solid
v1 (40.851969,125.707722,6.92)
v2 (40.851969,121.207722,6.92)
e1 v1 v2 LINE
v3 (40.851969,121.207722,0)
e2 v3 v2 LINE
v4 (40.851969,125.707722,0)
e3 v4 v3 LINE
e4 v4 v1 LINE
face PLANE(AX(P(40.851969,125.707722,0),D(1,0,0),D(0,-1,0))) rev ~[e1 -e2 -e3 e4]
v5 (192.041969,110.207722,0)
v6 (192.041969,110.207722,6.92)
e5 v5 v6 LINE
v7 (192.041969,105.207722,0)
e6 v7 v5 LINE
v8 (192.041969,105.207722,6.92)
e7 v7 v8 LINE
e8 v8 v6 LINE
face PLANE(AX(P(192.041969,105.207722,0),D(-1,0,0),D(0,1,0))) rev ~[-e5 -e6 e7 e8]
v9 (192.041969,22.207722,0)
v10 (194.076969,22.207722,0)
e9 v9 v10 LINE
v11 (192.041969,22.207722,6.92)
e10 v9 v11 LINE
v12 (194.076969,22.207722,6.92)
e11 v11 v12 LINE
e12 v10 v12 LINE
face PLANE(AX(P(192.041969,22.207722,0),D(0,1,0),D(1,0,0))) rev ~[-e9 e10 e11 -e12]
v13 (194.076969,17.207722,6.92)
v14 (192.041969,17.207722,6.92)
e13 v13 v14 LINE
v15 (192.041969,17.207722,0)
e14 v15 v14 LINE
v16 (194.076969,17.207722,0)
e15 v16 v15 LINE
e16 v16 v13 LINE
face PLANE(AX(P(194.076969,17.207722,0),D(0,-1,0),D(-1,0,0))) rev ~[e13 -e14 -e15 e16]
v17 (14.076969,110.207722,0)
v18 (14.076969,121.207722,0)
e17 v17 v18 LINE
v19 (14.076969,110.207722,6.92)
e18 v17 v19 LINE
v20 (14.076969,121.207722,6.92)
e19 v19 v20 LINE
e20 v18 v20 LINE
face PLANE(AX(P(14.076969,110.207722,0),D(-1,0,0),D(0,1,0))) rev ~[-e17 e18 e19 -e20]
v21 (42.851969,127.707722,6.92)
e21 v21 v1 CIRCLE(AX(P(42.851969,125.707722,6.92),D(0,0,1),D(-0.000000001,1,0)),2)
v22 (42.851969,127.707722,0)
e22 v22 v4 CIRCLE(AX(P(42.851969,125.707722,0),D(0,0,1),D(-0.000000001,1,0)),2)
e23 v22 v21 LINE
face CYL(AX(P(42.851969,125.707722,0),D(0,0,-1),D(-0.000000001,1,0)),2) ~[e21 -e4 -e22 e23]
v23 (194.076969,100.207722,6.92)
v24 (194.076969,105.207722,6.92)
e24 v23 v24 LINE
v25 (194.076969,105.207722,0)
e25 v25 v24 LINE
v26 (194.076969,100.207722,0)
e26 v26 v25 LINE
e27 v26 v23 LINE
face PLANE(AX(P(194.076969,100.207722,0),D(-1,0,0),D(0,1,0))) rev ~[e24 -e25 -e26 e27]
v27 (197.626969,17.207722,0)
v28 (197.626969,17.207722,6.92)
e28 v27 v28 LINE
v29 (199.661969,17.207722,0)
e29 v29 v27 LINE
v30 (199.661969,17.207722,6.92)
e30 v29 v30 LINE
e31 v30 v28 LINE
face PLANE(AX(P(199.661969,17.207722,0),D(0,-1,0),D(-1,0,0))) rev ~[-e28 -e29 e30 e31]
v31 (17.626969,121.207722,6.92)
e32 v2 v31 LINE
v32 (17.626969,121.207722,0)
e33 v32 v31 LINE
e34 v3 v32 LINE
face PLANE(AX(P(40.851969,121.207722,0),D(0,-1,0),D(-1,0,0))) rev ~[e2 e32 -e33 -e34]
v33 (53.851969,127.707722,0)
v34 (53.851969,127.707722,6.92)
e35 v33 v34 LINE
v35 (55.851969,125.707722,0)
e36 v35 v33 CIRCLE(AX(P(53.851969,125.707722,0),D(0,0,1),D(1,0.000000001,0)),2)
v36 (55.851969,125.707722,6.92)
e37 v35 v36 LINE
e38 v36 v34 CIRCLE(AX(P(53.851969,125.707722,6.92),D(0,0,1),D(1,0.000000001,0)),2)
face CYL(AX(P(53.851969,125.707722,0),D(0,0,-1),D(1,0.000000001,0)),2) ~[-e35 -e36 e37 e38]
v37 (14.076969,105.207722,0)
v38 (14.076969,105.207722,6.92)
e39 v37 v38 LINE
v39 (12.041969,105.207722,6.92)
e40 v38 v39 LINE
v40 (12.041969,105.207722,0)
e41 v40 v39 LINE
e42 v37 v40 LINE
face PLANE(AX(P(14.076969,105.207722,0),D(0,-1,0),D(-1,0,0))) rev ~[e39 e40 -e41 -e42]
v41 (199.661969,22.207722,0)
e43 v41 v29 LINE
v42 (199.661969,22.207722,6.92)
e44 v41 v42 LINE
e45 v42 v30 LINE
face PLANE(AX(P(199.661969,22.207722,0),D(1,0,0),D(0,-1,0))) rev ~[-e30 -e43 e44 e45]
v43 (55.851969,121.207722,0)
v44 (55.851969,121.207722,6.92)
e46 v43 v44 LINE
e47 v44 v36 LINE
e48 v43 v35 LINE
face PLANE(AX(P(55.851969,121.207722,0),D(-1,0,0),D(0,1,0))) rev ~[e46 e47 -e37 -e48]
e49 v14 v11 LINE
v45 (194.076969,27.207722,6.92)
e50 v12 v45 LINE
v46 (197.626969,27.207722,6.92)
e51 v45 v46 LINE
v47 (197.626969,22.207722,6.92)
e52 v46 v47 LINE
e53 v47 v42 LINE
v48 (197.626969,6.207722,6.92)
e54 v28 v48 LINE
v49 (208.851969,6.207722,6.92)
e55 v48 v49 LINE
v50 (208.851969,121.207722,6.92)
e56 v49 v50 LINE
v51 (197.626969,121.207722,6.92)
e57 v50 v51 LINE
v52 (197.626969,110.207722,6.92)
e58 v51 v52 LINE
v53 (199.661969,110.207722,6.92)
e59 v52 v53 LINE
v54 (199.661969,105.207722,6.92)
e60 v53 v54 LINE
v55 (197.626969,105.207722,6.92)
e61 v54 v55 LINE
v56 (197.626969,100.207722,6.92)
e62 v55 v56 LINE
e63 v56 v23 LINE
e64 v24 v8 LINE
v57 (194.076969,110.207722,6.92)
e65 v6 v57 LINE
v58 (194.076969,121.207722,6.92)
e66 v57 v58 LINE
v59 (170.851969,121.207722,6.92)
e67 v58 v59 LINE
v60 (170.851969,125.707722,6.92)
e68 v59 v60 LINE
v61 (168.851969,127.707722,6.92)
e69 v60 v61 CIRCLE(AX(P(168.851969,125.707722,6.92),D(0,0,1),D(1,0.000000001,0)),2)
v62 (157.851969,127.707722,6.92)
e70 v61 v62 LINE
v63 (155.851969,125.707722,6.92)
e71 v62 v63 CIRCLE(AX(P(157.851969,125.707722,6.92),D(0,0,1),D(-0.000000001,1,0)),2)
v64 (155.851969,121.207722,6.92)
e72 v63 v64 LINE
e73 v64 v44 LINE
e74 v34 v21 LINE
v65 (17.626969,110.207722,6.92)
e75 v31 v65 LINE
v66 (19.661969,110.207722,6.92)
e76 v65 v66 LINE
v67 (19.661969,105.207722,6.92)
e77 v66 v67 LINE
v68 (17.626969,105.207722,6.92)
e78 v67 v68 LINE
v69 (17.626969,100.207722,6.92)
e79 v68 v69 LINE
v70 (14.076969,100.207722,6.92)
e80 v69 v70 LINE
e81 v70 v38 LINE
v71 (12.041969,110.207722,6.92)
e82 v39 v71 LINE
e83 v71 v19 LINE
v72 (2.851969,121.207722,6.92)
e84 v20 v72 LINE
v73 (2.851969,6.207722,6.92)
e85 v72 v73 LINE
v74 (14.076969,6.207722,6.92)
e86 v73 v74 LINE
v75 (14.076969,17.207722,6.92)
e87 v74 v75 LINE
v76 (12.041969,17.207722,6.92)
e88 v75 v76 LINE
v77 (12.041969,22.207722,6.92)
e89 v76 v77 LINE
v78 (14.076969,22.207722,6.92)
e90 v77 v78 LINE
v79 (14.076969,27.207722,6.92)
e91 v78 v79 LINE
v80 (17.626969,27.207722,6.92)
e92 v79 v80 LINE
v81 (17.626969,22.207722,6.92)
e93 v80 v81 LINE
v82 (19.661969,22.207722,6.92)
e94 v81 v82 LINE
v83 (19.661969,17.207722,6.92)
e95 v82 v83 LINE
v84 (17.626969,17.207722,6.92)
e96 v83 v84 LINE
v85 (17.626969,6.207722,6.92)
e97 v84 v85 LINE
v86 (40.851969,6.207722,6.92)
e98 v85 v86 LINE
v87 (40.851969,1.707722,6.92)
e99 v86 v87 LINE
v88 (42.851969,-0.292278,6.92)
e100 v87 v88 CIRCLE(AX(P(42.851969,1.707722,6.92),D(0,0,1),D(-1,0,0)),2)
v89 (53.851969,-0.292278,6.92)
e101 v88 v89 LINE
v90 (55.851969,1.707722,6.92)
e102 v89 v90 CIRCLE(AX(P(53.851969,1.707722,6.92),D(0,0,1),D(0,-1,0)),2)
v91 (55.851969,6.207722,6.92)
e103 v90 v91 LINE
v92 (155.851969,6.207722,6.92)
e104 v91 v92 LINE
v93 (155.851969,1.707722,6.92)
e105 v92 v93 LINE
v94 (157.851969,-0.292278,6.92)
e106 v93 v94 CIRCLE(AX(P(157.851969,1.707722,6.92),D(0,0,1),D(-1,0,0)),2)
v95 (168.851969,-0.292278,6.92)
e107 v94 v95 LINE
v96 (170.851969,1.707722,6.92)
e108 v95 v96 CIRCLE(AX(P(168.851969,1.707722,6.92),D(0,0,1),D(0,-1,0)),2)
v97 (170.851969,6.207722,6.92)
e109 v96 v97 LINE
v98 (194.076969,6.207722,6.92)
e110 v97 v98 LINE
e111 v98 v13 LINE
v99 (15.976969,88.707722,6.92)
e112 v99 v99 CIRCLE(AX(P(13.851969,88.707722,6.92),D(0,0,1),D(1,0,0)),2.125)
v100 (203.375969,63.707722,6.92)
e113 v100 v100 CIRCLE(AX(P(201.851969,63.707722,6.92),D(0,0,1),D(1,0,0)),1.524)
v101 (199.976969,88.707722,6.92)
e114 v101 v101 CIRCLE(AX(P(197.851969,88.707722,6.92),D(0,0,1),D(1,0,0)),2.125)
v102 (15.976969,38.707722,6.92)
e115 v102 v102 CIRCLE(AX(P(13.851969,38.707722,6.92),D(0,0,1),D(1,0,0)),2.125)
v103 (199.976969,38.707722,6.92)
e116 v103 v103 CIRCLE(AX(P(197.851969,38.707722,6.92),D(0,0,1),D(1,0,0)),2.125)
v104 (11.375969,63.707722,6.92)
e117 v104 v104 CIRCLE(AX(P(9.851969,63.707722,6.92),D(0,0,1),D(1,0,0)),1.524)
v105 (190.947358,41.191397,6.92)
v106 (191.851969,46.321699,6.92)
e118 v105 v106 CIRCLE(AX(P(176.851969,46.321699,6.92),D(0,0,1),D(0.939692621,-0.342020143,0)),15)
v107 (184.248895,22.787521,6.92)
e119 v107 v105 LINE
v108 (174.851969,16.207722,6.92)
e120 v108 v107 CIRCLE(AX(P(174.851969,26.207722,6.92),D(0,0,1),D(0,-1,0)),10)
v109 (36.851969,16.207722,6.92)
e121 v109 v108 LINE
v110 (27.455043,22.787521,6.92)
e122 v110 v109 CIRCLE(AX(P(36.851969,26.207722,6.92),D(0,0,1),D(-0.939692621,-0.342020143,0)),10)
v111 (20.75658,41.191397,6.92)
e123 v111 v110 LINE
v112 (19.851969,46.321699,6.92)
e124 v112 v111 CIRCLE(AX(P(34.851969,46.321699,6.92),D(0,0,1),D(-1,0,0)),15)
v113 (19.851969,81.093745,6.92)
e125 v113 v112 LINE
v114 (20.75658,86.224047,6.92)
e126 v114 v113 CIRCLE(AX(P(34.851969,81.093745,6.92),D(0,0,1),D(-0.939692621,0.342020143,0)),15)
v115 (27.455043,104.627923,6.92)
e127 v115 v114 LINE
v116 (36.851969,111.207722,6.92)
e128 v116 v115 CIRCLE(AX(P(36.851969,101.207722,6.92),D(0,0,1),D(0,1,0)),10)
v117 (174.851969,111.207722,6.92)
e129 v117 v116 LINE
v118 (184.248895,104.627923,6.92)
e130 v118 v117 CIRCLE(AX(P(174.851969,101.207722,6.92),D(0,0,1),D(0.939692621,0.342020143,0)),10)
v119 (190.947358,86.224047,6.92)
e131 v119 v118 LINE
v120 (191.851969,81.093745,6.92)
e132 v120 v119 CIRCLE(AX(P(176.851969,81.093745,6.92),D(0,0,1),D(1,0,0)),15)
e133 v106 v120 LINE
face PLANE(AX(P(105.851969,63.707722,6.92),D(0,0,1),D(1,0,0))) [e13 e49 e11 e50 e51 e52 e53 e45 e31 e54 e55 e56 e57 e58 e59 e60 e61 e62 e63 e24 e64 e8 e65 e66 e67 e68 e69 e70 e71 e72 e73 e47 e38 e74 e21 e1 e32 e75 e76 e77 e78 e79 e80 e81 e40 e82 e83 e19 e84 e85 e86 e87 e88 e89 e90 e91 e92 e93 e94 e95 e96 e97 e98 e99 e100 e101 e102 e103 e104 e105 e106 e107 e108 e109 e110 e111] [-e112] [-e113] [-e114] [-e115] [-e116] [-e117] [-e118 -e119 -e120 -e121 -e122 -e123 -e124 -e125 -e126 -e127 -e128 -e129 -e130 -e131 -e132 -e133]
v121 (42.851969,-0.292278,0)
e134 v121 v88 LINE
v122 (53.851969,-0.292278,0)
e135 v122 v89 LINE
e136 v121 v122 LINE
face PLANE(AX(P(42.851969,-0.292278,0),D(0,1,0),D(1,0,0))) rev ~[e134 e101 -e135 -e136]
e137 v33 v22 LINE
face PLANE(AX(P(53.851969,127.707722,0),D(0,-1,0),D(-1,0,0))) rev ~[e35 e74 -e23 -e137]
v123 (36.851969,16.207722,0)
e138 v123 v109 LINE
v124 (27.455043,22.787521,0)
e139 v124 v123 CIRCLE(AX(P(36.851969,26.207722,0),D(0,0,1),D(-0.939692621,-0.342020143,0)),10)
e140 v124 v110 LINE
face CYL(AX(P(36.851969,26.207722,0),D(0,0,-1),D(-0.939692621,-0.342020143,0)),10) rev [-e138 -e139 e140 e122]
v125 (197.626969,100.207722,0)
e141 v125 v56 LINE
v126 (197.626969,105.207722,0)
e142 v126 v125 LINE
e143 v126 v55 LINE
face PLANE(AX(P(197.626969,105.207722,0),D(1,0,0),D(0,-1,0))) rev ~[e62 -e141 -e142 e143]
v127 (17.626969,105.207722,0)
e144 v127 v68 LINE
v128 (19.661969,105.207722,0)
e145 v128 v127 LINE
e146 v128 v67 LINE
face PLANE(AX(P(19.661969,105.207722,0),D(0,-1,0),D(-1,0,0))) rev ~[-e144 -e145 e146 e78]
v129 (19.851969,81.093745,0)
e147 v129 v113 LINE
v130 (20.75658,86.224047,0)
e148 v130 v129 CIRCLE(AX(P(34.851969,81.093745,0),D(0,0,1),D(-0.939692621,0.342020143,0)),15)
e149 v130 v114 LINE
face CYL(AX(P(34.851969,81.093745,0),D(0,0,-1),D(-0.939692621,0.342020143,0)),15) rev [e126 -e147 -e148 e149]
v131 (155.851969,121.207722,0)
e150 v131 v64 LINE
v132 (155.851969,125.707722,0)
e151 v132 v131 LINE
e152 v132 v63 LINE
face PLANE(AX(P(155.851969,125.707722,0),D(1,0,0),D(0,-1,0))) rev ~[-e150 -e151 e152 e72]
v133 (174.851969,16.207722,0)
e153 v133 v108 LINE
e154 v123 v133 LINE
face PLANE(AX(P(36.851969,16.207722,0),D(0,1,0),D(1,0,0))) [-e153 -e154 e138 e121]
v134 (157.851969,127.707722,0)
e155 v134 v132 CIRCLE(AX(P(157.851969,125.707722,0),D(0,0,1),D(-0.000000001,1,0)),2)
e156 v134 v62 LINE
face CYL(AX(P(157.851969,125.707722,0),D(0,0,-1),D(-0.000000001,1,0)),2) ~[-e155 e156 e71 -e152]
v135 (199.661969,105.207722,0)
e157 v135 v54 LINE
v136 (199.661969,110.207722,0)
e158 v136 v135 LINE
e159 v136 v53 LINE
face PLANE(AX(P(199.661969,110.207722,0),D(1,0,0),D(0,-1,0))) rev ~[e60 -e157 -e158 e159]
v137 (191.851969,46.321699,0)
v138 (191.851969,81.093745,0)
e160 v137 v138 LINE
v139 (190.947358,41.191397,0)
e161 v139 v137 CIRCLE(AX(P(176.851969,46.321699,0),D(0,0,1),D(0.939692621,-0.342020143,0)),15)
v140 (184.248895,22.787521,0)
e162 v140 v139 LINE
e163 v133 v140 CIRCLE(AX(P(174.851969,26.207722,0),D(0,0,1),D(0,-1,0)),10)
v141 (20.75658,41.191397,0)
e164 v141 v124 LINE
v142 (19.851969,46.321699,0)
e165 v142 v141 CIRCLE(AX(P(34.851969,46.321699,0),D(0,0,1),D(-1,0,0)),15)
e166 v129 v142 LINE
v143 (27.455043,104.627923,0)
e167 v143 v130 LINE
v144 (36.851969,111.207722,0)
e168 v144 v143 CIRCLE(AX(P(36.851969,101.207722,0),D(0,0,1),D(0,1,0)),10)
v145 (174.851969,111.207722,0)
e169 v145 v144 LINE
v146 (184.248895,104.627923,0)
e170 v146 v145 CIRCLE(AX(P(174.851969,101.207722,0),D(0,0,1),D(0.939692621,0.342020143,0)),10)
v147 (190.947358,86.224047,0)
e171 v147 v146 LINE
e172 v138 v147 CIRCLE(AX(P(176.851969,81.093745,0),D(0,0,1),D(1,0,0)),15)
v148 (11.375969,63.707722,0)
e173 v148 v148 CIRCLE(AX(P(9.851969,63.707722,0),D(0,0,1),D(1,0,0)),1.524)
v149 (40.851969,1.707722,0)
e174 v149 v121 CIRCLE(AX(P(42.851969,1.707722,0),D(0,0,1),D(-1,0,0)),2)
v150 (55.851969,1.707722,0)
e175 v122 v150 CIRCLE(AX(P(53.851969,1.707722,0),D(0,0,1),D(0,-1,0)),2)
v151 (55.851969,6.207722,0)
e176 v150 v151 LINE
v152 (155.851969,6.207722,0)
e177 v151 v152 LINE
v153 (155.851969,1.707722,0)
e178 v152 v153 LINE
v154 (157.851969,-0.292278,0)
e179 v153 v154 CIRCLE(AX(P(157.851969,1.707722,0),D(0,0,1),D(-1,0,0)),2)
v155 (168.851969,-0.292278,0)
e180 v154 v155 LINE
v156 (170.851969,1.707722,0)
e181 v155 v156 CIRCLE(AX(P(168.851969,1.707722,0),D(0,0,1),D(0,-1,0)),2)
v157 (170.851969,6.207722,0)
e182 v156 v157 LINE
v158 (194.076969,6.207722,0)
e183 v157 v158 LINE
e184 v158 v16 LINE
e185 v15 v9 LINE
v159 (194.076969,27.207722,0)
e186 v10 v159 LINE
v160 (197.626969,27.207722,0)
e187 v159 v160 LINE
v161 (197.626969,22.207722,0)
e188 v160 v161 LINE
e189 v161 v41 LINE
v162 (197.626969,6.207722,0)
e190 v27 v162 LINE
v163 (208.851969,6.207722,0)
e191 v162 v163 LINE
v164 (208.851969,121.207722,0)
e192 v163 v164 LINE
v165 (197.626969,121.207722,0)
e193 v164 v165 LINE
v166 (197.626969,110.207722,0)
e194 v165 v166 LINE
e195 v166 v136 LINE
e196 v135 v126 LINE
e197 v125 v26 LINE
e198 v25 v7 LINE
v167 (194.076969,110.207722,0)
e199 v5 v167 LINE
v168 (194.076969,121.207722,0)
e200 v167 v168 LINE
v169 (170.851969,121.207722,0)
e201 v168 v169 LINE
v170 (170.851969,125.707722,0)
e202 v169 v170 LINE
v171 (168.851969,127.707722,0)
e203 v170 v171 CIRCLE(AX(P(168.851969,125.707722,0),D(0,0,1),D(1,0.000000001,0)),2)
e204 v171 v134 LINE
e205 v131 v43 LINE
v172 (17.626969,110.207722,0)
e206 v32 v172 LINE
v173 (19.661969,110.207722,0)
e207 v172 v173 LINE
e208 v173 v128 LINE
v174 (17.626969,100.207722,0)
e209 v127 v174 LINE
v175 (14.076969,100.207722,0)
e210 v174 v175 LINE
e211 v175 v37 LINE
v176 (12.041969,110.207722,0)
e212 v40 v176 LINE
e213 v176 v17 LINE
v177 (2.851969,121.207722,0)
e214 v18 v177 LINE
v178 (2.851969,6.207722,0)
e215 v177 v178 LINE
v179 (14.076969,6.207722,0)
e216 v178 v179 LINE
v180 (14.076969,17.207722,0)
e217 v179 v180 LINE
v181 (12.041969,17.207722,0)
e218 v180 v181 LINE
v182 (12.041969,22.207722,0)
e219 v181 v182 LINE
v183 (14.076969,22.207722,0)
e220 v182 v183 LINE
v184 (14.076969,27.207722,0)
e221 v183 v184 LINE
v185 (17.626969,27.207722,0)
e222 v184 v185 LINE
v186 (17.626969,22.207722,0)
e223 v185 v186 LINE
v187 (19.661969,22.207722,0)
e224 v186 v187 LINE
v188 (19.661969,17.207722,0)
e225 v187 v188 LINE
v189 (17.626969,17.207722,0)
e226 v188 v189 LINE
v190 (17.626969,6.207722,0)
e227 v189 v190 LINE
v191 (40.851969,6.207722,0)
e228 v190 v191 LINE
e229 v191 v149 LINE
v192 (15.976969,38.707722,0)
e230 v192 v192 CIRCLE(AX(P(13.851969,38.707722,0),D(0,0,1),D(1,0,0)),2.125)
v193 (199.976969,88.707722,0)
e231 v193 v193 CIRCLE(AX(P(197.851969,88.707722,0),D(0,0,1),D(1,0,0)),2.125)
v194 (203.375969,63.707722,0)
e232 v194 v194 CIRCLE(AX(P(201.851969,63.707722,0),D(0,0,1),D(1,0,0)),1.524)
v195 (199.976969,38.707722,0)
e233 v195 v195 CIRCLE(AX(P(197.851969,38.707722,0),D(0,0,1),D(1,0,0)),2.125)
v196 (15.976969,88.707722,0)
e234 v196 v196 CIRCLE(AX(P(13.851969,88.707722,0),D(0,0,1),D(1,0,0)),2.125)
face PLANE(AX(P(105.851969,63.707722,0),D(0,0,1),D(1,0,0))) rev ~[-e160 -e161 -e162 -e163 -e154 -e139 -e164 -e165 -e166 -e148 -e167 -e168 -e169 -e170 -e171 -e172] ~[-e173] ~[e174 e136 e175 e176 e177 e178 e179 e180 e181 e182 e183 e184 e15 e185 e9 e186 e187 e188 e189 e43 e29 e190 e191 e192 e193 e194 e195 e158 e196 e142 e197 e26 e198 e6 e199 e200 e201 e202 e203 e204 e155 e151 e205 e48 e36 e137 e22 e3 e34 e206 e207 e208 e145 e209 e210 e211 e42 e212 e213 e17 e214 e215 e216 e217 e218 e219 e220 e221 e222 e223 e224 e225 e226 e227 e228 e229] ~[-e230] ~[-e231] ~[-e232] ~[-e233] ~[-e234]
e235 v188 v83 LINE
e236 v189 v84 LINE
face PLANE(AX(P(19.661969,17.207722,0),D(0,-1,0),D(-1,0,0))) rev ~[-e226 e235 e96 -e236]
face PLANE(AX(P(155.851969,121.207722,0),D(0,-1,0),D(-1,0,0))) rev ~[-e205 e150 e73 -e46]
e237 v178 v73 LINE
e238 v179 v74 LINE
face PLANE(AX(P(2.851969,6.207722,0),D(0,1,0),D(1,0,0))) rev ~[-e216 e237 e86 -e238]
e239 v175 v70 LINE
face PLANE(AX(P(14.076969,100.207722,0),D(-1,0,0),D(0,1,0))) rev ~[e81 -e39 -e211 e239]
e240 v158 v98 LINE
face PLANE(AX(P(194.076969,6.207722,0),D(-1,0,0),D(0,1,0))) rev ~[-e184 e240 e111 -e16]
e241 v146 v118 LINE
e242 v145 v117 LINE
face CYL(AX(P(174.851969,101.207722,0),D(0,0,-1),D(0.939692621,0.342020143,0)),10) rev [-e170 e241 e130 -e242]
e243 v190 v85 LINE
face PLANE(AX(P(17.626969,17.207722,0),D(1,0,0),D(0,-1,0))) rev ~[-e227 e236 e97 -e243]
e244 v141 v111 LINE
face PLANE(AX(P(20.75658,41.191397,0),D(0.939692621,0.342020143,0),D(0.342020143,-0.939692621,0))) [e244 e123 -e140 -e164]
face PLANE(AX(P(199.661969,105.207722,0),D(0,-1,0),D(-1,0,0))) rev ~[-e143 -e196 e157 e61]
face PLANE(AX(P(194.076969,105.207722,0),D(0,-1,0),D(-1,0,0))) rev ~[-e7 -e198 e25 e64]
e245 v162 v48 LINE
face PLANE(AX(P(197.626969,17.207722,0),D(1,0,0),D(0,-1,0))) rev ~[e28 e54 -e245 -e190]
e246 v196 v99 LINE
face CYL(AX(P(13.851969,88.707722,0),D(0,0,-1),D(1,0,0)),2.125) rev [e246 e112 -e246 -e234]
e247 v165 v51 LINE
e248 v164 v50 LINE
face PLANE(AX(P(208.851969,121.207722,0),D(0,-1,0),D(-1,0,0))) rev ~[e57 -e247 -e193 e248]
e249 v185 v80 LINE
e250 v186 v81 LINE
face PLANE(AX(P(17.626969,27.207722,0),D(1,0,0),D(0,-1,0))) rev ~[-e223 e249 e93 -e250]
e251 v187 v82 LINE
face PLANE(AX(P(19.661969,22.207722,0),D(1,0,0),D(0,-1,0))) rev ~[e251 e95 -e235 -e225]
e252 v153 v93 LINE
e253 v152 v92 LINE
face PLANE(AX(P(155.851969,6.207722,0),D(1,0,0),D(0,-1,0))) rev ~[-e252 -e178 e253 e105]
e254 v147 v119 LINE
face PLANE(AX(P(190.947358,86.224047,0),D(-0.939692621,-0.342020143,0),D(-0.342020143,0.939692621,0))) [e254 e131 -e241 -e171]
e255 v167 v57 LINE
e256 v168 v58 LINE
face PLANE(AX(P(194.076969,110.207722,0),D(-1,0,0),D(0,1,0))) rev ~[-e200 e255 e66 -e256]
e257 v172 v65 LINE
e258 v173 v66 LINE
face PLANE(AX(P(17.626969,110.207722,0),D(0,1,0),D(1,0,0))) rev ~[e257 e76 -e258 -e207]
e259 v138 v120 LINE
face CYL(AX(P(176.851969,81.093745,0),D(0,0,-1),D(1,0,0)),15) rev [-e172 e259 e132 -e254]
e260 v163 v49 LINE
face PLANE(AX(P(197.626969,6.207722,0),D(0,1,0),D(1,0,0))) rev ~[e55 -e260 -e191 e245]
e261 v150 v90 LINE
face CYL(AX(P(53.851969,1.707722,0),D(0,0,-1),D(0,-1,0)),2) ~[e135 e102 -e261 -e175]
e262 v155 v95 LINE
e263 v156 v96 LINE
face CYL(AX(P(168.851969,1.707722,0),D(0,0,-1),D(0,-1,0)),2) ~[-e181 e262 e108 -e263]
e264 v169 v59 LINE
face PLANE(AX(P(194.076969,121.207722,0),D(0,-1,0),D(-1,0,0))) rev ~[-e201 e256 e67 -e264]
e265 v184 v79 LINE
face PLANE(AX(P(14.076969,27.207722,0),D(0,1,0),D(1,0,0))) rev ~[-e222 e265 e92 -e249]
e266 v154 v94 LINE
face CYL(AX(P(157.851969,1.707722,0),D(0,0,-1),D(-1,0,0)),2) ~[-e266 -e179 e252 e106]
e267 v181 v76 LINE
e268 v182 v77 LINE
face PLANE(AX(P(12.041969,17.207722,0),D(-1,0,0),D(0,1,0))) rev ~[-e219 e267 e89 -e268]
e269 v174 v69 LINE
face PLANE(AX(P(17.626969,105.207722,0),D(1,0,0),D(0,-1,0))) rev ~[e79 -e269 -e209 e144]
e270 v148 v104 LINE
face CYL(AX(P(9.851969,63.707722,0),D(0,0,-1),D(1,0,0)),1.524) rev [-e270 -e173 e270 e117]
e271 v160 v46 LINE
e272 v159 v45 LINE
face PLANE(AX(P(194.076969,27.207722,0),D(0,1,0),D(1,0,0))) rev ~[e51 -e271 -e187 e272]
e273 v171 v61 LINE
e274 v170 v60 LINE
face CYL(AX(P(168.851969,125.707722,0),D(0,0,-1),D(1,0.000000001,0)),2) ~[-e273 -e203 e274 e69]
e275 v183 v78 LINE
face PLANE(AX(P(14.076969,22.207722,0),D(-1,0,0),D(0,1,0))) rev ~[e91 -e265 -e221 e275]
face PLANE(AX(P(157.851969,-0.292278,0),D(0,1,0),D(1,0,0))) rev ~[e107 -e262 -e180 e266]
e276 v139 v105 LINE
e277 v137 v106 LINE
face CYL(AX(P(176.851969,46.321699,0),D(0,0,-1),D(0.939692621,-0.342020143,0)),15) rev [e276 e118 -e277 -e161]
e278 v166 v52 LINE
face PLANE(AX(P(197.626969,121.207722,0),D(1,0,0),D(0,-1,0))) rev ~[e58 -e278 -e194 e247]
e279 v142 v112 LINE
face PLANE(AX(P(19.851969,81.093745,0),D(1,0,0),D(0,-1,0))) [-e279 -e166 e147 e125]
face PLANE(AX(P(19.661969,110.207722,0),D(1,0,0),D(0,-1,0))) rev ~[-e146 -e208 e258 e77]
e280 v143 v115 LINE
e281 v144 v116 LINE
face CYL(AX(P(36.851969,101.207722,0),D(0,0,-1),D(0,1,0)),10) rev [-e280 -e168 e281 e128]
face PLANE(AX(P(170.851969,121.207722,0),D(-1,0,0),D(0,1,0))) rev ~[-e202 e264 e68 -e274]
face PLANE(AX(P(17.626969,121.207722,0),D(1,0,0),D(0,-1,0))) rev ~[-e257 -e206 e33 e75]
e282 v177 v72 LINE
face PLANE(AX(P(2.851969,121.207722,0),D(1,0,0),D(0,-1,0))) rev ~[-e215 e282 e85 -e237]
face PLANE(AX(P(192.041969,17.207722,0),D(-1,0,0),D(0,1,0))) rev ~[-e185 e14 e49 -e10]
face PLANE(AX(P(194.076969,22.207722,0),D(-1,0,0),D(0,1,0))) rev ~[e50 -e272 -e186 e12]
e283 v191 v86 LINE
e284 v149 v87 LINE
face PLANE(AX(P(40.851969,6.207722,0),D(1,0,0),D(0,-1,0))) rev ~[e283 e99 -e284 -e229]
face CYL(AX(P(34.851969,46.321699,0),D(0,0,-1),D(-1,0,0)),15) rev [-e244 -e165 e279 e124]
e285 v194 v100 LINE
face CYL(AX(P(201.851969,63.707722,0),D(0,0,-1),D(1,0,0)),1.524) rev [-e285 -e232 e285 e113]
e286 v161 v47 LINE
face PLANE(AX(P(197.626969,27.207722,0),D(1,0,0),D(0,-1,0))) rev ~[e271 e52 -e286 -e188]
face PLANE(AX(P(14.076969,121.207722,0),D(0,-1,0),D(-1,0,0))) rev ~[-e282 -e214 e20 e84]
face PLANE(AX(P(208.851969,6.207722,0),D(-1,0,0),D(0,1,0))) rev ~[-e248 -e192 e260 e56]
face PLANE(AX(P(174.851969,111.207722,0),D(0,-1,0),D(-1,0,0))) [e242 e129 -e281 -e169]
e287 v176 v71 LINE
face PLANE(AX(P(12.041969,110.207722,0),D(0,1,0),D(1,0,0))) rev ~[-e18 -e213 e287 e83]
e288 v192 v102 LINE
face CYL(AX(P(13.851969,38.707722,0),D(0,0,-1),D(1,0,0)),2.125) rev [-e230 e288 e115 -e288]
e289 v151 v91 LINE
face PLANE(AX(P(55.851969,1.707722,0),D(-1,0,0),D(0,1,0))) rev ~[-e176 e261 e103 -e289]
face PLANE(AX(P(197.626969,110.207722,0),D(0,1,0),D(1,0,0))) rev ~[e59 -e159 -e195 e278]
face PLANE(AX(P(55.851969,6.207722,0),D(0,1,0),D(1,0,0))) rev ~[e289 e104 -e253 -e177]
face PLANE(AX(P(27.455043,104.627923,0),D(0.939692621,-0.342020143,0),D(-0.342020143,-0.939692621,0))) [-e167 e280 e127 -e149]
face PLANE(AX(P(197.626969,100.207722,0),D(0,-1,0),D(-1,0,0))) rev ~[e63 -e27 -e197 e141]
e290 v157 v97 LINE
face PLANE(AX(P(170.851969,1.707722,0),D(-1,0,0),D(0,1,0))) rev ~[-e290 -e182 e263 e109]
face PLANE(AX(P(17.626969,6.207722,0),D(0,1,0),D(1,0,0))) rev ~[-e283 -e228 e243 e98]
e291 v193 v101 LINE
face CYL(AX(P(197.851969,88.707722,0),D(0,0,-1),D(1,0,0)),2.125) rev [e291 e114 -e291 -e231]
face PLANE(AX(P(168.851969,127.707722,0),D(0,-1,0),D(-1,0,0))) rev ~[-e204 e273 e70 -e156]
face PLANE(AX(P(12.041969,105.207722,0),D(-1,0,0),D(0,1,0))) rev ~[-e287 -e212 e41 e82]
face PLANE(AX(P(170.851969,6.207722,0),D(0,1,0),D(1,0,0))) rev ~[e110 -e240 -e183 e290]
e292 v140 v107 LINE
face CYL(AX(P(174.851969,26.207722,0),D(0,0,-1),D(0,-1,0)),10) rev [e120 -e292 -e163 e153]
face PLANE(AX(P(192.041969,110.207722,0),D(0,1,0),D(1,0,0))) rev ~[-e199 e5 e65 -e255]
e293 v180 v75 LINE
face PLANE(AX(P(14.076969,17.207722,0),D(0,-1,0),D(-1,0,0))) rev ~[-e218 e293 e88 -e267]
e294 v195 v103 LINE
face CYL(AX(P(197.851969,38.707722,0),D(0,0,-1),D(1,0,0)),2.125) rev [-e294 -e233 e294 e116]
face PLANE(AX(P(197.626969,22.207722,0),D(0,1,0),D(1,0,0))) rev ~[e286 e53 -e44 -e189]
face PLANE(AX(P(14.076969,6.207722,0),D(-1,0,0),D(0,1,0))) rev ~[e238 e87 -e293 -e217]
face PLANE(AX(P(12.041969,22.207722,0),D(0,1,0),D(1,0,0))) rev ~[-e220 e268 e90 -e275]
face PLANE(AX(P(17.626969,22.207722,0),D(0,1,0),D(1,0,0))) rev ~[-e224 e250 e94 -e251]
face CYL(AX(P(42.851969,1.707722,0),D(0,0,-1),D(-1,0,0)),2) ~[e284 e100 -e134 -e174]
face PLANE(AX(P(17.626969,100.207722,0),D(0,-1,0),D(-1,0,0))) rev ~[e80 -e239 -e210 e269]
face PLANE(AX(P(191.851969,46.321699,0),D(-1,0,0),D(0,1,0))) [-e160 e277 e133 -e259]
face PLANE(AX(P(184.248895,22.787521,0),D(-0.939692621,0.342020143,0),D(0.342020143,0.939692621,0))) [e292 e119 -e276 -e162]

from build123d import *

# Parameters (mm, degrees)
SKETCH1_R           = 2.125
SKETCH1_R_2         = 1.524
BOSS_EXTRUDE1_DEPTH = 6.92


with BuildPart() as part:
    # Sketch1 → Boss-Extrude1 (new body)
    with BuildSketch(Plane.XY):
        with BuildLine():
            Line((192.041969112, 105.207722008), (192.041969112, 110.207722008))
            Line((192.041969112, 110.207722008), (194.076969112, 110.207722008))
            Line((194.076969112, 110.207722008), (194.076969112, 121.207722008))
            Line((194.076969112, 121.207722008), (170.851969112, 121.207722008))
            Line((170.851969112, 121.207722008), (170.851969112, 125.707722008))
            ThreePointArc((170.851969112, 125.707722008), (170.266182674, 127.12193557), (168.851969112, 127.707722008))
            Line((168.851969112, 127.707722008), (157.851969112, 127.707722008))
            ThreePointArc((157.851969112, 127.707722008), (156.43775555, 127.12193557), (155.851969112, 125.707722008))
            Line((155.851969112, 125.707722008), (155.851969112, 121.207722008))
            Line((155.851969112, 121.207722008), (55.851969112, 121.207722008))
            Line((55.851969112, 121.207722008), (55.851969112, 125.707722008))
            ThreePointArc((55.851969112, 125.707722008), (55.266182674, 127.12193557), (53.851969112, 127.707722008))
            Line((53.851969112, 127.707722008), (42.851969112, 127.707722008))
            ThreePointArc((42.851969112, 127.707722008), (41.43775555, 127.12193557), (40.851969112, 125.707722008))
            Line((40.851969112, 125.707722008), (40.851969112, 121.207722008))
            Line((40.851969112, 121.207722008), (17.626969112, 121.207722008))
            Line((17.626969112, 121.207722008), (17.626969112, 110.207722008))
            Line((17.626969112, 110.207722008), (19.661969112, 110.207722008))
            Line((19.661969112, 110.207722008), (19.661969112, 105.207722008))
            Line((19.661969112, 105.207722008), (17.626969112, 105.207722008))
            Line((17.626969112, 105.207722008), (17.626969112, 100.207722008))
            Line((17.626969112, 100.207722008), (14.076969112, 100.207722008))
            Line((14.076969112, 100.207722008), (14.076969112, 105.207722008))
            Line((14.076969112, 105.207722008), (12.041969112, 105.207722008))
            Line((12.041969112, 105.207722008), (12.041969112, 110.207722008))
            Line((12.041969112, 110.207722008), (14.076969112, 110.207722008))
            Line((14.076969112, 110.207722008), (14.076969112, 121.207722008))
            Line((14.076969112, 121.207722008), (2.851969112, 121.207722008))
            Line((2.851969112, 121.207722008), (2.851969112, 6.207722008))
            Line((2.851969112, 6.207722008), (14.076969112, 6.207722008))
            Line((14.076969112, 6.207722008), (14.076969112, 17.207722008))
            Line((14.076969112, 17.207722008), (12.041969112, 17.207722008))
            Line((12.041969112, 17.207722008), (12.041969112, 22.207722008))
            Line((12.041969112, 22.207722008), (14.076969112, 22.207722008))
            Line((14.076969112, 22.207722008), (14.076969112, 27.207722008))
            Line((14.076969112, 27.207722008), (17.626969112, 27.207722008))
            Line((17.626969112, 27.207722008), (17.626969112, 22.207722008))
            Line((17.626969112, 22.207722008), (19.661969112, 22.207722008))
            Line((19.661969112, 22.207722008), (19.661969112, 17.207722008))
            Line((19.661969112, 17.207722008), (17.626969112, 17.207722008))
            Line((17.626969112, 17.207722008), (17.626969112, 6.207722008))
            Line((17.626969112, 6.207722008), (40.851969112, 6.207722008))
            Line((40.851969112, 6.207722008), (40.851969112, 1.707722008))
            ThreePointArc((40.851969112, 1.707722008), (41.43775555, 0.293508445), (42.851969112, -0.292277992))
            Line((42.851969112, -0.292277992), (53.851969112, -0.292277992))
            ThreePointArc((53.851969112, -0.292277992), (55.266182674, 0.293508445), (55.851969112, 1.707722008))
            Line((55.851969112, 1.707722008), (55.851969112, 6.207722008))
            Line((55.851969112, 6.207722008), (155.851969112, 6.207722008))
            Line((155.851969112, 6.207722008), (155.851969112, 1.707722008))
            ThreePointArc((155.851969112, 1.707722008), (156.43775555, 0.293508445), (157.851969112, -0.292277992))
            Line((157.851969112, -0.292277992), (168.851969112, -0.292277992))
            ThreePointArc((168.851969112, -0.292277992), (170.266182674, 0.293508445), (170.851969112, 1.707722008))
            Line((170.851969112, 1.707722008), (170.851969112, 6.207722008))
            Line((170.851969112, 6.207722008), (194.076969112, 6.207722008))
            Line((194.076969112, 6.207722008), (194.076969112, 17.207722008))
            Line((194.076969112, 17.207722008), (192.041969112, 17.207722008))
            Line((192.041969112, 17.207722008), (192.041969112, 22.207722008))
            Line((192.041969112, 22.207722008), (194.076969112, 22.207722008))
            Line((194.076969112, 22.207722008), (194.076969112, 27.207722008))
            Line((194.076969112, 27.207722008), (197.626969112, 27.207722008))
            Line((197.626969112, 27.207722008), (197.626969112, 22.207722008))
            Line((197.626969112, 22.207722008), (199.661969112, 22.207722008))
            Line((199.661969112, 22.207722008), (199.661969112, 17.207722008))
            Line((199.661969112, 17.207722008), (197.626969112, 17.207722008))
            Line((197.626969112, 17.207722008), (197.626969112, 6.207722008))
            Line((197.626969112, 6.207722008), (208.851969112, 6.207722008))
            Line((208.851969112, 6.207722008), (208.851969112, 121.207722008))
            Line((208.851969112, 121.207722008), (197.626969112, 121.207722008))
            Line((197.626969112, 121.207722008), (197.626969112, 110.207722008))
            Line((197.626969112, 110.207722008), (199.661969112, 110.207722008))
            Line((199.661969112, 110.207722008), (199.661969112, 105.207722008))
            Line((199.661969112, 105.207722008), (197.626969112, 105.207722008))
            Line((197.626969112, 105.207722008), (197.626969112, 100.207722008))
            Line((197.626969112, 100.207722008), (194.076969112, 100.207722008))
            Line((194.076969112, 100.207722008), (194.076969112, 105.207722008))
            Line((194.076969112, 105.207722008), (192.041969112, 105.207722008))
        make_face()
        with Locations((13.851969112, 38.707722008)):
            Circle(SKETCH1_R, mode=Mode.SUBTRACT)
        with Locations((197.851969112, 88.707722008)):
            Circle(SKETCH1_R, mode=Mode.SUBTRACT)
        with Locations((13.851969112, 88.707722008)):
            Circle(SKETCH1_R, mode=Mode.SUBTRACT)
        with Locations((197.851969112, 38.707722008)):
            Circle(SKETCH1_R, mode=Mode.SUBTRACT)
        with Locations((9.851969112, 63.707722008)):
            Circle(SKETCH1_R_2, mode=Mode.SUBTRACT)
        with Locations((201.851969112, 63.707722008)):
            Circle(SKETCH1_R_2, mode=Mode.SUBTRACT)
        with BuildLine():
            Line((19.851969112, 81.093745168), (19.851969112, 46.321698847))
            ThreePointArc((19.851969112, 46.321698847), (20.079852817, 43.716976182), (20.7565798, 41.191396698))
            Line((20.7565798, 41.191396698), (27.455042904, 22.787520574))
            ThreePointArc((27.455042904, 22.787520574), (31.116204748, 18.016201565), (36.851969112, 16.207722008))
            Line((36.851969112, 16.207722008), (174.851969112, 16.207722008))
            ThreePointArc((174.851969112, 16.207722008), (180.587733475, 18.016201565), (184.24889532, 22.787520574))
            Line((184.24889532, 22.787520574), (190.947358424, 41.191396698))
            ThreePointArc((190.947358424, 41.191396698), (191.624085407, 43.716976182), (191.851969112, 46.321698847))
            Line((191.851969112, 46.321698847), (191.851969112, 81.093745168))
            ThreePointArc((191.851969112, 81.093745168), (191.624085407, 83.698467833), (190.947358424, 86.224047318))
            Line((190.947358424, 86.224047318), (184.24889532, 104.627923441))
            ThreePointArc((184.24889532, 104.627923441), (180.587733475, 109.399242451), (174.851969112, 111.207722008))
            Line((174.851969112, 111.207722008), (36.851969112, 111.207722008))
            ThreePointArc((36.851969112, 111.207722008), (31.116204748, 109.399242451), (27.455042904, 104.627923441))
            Line((27.455042904, 104.627923441), (20.7565798, 86.224047318))
            ThreePointArc((20.7565798, 86.224047318), (20.079852817, 83.698467833), (19.851969112, 81.093745168))
        make_face(mode=Mode.SUBTRACT)
    extrude(amount=BOSS_EXTRUDE1_DEPTH)


solid = part.part
